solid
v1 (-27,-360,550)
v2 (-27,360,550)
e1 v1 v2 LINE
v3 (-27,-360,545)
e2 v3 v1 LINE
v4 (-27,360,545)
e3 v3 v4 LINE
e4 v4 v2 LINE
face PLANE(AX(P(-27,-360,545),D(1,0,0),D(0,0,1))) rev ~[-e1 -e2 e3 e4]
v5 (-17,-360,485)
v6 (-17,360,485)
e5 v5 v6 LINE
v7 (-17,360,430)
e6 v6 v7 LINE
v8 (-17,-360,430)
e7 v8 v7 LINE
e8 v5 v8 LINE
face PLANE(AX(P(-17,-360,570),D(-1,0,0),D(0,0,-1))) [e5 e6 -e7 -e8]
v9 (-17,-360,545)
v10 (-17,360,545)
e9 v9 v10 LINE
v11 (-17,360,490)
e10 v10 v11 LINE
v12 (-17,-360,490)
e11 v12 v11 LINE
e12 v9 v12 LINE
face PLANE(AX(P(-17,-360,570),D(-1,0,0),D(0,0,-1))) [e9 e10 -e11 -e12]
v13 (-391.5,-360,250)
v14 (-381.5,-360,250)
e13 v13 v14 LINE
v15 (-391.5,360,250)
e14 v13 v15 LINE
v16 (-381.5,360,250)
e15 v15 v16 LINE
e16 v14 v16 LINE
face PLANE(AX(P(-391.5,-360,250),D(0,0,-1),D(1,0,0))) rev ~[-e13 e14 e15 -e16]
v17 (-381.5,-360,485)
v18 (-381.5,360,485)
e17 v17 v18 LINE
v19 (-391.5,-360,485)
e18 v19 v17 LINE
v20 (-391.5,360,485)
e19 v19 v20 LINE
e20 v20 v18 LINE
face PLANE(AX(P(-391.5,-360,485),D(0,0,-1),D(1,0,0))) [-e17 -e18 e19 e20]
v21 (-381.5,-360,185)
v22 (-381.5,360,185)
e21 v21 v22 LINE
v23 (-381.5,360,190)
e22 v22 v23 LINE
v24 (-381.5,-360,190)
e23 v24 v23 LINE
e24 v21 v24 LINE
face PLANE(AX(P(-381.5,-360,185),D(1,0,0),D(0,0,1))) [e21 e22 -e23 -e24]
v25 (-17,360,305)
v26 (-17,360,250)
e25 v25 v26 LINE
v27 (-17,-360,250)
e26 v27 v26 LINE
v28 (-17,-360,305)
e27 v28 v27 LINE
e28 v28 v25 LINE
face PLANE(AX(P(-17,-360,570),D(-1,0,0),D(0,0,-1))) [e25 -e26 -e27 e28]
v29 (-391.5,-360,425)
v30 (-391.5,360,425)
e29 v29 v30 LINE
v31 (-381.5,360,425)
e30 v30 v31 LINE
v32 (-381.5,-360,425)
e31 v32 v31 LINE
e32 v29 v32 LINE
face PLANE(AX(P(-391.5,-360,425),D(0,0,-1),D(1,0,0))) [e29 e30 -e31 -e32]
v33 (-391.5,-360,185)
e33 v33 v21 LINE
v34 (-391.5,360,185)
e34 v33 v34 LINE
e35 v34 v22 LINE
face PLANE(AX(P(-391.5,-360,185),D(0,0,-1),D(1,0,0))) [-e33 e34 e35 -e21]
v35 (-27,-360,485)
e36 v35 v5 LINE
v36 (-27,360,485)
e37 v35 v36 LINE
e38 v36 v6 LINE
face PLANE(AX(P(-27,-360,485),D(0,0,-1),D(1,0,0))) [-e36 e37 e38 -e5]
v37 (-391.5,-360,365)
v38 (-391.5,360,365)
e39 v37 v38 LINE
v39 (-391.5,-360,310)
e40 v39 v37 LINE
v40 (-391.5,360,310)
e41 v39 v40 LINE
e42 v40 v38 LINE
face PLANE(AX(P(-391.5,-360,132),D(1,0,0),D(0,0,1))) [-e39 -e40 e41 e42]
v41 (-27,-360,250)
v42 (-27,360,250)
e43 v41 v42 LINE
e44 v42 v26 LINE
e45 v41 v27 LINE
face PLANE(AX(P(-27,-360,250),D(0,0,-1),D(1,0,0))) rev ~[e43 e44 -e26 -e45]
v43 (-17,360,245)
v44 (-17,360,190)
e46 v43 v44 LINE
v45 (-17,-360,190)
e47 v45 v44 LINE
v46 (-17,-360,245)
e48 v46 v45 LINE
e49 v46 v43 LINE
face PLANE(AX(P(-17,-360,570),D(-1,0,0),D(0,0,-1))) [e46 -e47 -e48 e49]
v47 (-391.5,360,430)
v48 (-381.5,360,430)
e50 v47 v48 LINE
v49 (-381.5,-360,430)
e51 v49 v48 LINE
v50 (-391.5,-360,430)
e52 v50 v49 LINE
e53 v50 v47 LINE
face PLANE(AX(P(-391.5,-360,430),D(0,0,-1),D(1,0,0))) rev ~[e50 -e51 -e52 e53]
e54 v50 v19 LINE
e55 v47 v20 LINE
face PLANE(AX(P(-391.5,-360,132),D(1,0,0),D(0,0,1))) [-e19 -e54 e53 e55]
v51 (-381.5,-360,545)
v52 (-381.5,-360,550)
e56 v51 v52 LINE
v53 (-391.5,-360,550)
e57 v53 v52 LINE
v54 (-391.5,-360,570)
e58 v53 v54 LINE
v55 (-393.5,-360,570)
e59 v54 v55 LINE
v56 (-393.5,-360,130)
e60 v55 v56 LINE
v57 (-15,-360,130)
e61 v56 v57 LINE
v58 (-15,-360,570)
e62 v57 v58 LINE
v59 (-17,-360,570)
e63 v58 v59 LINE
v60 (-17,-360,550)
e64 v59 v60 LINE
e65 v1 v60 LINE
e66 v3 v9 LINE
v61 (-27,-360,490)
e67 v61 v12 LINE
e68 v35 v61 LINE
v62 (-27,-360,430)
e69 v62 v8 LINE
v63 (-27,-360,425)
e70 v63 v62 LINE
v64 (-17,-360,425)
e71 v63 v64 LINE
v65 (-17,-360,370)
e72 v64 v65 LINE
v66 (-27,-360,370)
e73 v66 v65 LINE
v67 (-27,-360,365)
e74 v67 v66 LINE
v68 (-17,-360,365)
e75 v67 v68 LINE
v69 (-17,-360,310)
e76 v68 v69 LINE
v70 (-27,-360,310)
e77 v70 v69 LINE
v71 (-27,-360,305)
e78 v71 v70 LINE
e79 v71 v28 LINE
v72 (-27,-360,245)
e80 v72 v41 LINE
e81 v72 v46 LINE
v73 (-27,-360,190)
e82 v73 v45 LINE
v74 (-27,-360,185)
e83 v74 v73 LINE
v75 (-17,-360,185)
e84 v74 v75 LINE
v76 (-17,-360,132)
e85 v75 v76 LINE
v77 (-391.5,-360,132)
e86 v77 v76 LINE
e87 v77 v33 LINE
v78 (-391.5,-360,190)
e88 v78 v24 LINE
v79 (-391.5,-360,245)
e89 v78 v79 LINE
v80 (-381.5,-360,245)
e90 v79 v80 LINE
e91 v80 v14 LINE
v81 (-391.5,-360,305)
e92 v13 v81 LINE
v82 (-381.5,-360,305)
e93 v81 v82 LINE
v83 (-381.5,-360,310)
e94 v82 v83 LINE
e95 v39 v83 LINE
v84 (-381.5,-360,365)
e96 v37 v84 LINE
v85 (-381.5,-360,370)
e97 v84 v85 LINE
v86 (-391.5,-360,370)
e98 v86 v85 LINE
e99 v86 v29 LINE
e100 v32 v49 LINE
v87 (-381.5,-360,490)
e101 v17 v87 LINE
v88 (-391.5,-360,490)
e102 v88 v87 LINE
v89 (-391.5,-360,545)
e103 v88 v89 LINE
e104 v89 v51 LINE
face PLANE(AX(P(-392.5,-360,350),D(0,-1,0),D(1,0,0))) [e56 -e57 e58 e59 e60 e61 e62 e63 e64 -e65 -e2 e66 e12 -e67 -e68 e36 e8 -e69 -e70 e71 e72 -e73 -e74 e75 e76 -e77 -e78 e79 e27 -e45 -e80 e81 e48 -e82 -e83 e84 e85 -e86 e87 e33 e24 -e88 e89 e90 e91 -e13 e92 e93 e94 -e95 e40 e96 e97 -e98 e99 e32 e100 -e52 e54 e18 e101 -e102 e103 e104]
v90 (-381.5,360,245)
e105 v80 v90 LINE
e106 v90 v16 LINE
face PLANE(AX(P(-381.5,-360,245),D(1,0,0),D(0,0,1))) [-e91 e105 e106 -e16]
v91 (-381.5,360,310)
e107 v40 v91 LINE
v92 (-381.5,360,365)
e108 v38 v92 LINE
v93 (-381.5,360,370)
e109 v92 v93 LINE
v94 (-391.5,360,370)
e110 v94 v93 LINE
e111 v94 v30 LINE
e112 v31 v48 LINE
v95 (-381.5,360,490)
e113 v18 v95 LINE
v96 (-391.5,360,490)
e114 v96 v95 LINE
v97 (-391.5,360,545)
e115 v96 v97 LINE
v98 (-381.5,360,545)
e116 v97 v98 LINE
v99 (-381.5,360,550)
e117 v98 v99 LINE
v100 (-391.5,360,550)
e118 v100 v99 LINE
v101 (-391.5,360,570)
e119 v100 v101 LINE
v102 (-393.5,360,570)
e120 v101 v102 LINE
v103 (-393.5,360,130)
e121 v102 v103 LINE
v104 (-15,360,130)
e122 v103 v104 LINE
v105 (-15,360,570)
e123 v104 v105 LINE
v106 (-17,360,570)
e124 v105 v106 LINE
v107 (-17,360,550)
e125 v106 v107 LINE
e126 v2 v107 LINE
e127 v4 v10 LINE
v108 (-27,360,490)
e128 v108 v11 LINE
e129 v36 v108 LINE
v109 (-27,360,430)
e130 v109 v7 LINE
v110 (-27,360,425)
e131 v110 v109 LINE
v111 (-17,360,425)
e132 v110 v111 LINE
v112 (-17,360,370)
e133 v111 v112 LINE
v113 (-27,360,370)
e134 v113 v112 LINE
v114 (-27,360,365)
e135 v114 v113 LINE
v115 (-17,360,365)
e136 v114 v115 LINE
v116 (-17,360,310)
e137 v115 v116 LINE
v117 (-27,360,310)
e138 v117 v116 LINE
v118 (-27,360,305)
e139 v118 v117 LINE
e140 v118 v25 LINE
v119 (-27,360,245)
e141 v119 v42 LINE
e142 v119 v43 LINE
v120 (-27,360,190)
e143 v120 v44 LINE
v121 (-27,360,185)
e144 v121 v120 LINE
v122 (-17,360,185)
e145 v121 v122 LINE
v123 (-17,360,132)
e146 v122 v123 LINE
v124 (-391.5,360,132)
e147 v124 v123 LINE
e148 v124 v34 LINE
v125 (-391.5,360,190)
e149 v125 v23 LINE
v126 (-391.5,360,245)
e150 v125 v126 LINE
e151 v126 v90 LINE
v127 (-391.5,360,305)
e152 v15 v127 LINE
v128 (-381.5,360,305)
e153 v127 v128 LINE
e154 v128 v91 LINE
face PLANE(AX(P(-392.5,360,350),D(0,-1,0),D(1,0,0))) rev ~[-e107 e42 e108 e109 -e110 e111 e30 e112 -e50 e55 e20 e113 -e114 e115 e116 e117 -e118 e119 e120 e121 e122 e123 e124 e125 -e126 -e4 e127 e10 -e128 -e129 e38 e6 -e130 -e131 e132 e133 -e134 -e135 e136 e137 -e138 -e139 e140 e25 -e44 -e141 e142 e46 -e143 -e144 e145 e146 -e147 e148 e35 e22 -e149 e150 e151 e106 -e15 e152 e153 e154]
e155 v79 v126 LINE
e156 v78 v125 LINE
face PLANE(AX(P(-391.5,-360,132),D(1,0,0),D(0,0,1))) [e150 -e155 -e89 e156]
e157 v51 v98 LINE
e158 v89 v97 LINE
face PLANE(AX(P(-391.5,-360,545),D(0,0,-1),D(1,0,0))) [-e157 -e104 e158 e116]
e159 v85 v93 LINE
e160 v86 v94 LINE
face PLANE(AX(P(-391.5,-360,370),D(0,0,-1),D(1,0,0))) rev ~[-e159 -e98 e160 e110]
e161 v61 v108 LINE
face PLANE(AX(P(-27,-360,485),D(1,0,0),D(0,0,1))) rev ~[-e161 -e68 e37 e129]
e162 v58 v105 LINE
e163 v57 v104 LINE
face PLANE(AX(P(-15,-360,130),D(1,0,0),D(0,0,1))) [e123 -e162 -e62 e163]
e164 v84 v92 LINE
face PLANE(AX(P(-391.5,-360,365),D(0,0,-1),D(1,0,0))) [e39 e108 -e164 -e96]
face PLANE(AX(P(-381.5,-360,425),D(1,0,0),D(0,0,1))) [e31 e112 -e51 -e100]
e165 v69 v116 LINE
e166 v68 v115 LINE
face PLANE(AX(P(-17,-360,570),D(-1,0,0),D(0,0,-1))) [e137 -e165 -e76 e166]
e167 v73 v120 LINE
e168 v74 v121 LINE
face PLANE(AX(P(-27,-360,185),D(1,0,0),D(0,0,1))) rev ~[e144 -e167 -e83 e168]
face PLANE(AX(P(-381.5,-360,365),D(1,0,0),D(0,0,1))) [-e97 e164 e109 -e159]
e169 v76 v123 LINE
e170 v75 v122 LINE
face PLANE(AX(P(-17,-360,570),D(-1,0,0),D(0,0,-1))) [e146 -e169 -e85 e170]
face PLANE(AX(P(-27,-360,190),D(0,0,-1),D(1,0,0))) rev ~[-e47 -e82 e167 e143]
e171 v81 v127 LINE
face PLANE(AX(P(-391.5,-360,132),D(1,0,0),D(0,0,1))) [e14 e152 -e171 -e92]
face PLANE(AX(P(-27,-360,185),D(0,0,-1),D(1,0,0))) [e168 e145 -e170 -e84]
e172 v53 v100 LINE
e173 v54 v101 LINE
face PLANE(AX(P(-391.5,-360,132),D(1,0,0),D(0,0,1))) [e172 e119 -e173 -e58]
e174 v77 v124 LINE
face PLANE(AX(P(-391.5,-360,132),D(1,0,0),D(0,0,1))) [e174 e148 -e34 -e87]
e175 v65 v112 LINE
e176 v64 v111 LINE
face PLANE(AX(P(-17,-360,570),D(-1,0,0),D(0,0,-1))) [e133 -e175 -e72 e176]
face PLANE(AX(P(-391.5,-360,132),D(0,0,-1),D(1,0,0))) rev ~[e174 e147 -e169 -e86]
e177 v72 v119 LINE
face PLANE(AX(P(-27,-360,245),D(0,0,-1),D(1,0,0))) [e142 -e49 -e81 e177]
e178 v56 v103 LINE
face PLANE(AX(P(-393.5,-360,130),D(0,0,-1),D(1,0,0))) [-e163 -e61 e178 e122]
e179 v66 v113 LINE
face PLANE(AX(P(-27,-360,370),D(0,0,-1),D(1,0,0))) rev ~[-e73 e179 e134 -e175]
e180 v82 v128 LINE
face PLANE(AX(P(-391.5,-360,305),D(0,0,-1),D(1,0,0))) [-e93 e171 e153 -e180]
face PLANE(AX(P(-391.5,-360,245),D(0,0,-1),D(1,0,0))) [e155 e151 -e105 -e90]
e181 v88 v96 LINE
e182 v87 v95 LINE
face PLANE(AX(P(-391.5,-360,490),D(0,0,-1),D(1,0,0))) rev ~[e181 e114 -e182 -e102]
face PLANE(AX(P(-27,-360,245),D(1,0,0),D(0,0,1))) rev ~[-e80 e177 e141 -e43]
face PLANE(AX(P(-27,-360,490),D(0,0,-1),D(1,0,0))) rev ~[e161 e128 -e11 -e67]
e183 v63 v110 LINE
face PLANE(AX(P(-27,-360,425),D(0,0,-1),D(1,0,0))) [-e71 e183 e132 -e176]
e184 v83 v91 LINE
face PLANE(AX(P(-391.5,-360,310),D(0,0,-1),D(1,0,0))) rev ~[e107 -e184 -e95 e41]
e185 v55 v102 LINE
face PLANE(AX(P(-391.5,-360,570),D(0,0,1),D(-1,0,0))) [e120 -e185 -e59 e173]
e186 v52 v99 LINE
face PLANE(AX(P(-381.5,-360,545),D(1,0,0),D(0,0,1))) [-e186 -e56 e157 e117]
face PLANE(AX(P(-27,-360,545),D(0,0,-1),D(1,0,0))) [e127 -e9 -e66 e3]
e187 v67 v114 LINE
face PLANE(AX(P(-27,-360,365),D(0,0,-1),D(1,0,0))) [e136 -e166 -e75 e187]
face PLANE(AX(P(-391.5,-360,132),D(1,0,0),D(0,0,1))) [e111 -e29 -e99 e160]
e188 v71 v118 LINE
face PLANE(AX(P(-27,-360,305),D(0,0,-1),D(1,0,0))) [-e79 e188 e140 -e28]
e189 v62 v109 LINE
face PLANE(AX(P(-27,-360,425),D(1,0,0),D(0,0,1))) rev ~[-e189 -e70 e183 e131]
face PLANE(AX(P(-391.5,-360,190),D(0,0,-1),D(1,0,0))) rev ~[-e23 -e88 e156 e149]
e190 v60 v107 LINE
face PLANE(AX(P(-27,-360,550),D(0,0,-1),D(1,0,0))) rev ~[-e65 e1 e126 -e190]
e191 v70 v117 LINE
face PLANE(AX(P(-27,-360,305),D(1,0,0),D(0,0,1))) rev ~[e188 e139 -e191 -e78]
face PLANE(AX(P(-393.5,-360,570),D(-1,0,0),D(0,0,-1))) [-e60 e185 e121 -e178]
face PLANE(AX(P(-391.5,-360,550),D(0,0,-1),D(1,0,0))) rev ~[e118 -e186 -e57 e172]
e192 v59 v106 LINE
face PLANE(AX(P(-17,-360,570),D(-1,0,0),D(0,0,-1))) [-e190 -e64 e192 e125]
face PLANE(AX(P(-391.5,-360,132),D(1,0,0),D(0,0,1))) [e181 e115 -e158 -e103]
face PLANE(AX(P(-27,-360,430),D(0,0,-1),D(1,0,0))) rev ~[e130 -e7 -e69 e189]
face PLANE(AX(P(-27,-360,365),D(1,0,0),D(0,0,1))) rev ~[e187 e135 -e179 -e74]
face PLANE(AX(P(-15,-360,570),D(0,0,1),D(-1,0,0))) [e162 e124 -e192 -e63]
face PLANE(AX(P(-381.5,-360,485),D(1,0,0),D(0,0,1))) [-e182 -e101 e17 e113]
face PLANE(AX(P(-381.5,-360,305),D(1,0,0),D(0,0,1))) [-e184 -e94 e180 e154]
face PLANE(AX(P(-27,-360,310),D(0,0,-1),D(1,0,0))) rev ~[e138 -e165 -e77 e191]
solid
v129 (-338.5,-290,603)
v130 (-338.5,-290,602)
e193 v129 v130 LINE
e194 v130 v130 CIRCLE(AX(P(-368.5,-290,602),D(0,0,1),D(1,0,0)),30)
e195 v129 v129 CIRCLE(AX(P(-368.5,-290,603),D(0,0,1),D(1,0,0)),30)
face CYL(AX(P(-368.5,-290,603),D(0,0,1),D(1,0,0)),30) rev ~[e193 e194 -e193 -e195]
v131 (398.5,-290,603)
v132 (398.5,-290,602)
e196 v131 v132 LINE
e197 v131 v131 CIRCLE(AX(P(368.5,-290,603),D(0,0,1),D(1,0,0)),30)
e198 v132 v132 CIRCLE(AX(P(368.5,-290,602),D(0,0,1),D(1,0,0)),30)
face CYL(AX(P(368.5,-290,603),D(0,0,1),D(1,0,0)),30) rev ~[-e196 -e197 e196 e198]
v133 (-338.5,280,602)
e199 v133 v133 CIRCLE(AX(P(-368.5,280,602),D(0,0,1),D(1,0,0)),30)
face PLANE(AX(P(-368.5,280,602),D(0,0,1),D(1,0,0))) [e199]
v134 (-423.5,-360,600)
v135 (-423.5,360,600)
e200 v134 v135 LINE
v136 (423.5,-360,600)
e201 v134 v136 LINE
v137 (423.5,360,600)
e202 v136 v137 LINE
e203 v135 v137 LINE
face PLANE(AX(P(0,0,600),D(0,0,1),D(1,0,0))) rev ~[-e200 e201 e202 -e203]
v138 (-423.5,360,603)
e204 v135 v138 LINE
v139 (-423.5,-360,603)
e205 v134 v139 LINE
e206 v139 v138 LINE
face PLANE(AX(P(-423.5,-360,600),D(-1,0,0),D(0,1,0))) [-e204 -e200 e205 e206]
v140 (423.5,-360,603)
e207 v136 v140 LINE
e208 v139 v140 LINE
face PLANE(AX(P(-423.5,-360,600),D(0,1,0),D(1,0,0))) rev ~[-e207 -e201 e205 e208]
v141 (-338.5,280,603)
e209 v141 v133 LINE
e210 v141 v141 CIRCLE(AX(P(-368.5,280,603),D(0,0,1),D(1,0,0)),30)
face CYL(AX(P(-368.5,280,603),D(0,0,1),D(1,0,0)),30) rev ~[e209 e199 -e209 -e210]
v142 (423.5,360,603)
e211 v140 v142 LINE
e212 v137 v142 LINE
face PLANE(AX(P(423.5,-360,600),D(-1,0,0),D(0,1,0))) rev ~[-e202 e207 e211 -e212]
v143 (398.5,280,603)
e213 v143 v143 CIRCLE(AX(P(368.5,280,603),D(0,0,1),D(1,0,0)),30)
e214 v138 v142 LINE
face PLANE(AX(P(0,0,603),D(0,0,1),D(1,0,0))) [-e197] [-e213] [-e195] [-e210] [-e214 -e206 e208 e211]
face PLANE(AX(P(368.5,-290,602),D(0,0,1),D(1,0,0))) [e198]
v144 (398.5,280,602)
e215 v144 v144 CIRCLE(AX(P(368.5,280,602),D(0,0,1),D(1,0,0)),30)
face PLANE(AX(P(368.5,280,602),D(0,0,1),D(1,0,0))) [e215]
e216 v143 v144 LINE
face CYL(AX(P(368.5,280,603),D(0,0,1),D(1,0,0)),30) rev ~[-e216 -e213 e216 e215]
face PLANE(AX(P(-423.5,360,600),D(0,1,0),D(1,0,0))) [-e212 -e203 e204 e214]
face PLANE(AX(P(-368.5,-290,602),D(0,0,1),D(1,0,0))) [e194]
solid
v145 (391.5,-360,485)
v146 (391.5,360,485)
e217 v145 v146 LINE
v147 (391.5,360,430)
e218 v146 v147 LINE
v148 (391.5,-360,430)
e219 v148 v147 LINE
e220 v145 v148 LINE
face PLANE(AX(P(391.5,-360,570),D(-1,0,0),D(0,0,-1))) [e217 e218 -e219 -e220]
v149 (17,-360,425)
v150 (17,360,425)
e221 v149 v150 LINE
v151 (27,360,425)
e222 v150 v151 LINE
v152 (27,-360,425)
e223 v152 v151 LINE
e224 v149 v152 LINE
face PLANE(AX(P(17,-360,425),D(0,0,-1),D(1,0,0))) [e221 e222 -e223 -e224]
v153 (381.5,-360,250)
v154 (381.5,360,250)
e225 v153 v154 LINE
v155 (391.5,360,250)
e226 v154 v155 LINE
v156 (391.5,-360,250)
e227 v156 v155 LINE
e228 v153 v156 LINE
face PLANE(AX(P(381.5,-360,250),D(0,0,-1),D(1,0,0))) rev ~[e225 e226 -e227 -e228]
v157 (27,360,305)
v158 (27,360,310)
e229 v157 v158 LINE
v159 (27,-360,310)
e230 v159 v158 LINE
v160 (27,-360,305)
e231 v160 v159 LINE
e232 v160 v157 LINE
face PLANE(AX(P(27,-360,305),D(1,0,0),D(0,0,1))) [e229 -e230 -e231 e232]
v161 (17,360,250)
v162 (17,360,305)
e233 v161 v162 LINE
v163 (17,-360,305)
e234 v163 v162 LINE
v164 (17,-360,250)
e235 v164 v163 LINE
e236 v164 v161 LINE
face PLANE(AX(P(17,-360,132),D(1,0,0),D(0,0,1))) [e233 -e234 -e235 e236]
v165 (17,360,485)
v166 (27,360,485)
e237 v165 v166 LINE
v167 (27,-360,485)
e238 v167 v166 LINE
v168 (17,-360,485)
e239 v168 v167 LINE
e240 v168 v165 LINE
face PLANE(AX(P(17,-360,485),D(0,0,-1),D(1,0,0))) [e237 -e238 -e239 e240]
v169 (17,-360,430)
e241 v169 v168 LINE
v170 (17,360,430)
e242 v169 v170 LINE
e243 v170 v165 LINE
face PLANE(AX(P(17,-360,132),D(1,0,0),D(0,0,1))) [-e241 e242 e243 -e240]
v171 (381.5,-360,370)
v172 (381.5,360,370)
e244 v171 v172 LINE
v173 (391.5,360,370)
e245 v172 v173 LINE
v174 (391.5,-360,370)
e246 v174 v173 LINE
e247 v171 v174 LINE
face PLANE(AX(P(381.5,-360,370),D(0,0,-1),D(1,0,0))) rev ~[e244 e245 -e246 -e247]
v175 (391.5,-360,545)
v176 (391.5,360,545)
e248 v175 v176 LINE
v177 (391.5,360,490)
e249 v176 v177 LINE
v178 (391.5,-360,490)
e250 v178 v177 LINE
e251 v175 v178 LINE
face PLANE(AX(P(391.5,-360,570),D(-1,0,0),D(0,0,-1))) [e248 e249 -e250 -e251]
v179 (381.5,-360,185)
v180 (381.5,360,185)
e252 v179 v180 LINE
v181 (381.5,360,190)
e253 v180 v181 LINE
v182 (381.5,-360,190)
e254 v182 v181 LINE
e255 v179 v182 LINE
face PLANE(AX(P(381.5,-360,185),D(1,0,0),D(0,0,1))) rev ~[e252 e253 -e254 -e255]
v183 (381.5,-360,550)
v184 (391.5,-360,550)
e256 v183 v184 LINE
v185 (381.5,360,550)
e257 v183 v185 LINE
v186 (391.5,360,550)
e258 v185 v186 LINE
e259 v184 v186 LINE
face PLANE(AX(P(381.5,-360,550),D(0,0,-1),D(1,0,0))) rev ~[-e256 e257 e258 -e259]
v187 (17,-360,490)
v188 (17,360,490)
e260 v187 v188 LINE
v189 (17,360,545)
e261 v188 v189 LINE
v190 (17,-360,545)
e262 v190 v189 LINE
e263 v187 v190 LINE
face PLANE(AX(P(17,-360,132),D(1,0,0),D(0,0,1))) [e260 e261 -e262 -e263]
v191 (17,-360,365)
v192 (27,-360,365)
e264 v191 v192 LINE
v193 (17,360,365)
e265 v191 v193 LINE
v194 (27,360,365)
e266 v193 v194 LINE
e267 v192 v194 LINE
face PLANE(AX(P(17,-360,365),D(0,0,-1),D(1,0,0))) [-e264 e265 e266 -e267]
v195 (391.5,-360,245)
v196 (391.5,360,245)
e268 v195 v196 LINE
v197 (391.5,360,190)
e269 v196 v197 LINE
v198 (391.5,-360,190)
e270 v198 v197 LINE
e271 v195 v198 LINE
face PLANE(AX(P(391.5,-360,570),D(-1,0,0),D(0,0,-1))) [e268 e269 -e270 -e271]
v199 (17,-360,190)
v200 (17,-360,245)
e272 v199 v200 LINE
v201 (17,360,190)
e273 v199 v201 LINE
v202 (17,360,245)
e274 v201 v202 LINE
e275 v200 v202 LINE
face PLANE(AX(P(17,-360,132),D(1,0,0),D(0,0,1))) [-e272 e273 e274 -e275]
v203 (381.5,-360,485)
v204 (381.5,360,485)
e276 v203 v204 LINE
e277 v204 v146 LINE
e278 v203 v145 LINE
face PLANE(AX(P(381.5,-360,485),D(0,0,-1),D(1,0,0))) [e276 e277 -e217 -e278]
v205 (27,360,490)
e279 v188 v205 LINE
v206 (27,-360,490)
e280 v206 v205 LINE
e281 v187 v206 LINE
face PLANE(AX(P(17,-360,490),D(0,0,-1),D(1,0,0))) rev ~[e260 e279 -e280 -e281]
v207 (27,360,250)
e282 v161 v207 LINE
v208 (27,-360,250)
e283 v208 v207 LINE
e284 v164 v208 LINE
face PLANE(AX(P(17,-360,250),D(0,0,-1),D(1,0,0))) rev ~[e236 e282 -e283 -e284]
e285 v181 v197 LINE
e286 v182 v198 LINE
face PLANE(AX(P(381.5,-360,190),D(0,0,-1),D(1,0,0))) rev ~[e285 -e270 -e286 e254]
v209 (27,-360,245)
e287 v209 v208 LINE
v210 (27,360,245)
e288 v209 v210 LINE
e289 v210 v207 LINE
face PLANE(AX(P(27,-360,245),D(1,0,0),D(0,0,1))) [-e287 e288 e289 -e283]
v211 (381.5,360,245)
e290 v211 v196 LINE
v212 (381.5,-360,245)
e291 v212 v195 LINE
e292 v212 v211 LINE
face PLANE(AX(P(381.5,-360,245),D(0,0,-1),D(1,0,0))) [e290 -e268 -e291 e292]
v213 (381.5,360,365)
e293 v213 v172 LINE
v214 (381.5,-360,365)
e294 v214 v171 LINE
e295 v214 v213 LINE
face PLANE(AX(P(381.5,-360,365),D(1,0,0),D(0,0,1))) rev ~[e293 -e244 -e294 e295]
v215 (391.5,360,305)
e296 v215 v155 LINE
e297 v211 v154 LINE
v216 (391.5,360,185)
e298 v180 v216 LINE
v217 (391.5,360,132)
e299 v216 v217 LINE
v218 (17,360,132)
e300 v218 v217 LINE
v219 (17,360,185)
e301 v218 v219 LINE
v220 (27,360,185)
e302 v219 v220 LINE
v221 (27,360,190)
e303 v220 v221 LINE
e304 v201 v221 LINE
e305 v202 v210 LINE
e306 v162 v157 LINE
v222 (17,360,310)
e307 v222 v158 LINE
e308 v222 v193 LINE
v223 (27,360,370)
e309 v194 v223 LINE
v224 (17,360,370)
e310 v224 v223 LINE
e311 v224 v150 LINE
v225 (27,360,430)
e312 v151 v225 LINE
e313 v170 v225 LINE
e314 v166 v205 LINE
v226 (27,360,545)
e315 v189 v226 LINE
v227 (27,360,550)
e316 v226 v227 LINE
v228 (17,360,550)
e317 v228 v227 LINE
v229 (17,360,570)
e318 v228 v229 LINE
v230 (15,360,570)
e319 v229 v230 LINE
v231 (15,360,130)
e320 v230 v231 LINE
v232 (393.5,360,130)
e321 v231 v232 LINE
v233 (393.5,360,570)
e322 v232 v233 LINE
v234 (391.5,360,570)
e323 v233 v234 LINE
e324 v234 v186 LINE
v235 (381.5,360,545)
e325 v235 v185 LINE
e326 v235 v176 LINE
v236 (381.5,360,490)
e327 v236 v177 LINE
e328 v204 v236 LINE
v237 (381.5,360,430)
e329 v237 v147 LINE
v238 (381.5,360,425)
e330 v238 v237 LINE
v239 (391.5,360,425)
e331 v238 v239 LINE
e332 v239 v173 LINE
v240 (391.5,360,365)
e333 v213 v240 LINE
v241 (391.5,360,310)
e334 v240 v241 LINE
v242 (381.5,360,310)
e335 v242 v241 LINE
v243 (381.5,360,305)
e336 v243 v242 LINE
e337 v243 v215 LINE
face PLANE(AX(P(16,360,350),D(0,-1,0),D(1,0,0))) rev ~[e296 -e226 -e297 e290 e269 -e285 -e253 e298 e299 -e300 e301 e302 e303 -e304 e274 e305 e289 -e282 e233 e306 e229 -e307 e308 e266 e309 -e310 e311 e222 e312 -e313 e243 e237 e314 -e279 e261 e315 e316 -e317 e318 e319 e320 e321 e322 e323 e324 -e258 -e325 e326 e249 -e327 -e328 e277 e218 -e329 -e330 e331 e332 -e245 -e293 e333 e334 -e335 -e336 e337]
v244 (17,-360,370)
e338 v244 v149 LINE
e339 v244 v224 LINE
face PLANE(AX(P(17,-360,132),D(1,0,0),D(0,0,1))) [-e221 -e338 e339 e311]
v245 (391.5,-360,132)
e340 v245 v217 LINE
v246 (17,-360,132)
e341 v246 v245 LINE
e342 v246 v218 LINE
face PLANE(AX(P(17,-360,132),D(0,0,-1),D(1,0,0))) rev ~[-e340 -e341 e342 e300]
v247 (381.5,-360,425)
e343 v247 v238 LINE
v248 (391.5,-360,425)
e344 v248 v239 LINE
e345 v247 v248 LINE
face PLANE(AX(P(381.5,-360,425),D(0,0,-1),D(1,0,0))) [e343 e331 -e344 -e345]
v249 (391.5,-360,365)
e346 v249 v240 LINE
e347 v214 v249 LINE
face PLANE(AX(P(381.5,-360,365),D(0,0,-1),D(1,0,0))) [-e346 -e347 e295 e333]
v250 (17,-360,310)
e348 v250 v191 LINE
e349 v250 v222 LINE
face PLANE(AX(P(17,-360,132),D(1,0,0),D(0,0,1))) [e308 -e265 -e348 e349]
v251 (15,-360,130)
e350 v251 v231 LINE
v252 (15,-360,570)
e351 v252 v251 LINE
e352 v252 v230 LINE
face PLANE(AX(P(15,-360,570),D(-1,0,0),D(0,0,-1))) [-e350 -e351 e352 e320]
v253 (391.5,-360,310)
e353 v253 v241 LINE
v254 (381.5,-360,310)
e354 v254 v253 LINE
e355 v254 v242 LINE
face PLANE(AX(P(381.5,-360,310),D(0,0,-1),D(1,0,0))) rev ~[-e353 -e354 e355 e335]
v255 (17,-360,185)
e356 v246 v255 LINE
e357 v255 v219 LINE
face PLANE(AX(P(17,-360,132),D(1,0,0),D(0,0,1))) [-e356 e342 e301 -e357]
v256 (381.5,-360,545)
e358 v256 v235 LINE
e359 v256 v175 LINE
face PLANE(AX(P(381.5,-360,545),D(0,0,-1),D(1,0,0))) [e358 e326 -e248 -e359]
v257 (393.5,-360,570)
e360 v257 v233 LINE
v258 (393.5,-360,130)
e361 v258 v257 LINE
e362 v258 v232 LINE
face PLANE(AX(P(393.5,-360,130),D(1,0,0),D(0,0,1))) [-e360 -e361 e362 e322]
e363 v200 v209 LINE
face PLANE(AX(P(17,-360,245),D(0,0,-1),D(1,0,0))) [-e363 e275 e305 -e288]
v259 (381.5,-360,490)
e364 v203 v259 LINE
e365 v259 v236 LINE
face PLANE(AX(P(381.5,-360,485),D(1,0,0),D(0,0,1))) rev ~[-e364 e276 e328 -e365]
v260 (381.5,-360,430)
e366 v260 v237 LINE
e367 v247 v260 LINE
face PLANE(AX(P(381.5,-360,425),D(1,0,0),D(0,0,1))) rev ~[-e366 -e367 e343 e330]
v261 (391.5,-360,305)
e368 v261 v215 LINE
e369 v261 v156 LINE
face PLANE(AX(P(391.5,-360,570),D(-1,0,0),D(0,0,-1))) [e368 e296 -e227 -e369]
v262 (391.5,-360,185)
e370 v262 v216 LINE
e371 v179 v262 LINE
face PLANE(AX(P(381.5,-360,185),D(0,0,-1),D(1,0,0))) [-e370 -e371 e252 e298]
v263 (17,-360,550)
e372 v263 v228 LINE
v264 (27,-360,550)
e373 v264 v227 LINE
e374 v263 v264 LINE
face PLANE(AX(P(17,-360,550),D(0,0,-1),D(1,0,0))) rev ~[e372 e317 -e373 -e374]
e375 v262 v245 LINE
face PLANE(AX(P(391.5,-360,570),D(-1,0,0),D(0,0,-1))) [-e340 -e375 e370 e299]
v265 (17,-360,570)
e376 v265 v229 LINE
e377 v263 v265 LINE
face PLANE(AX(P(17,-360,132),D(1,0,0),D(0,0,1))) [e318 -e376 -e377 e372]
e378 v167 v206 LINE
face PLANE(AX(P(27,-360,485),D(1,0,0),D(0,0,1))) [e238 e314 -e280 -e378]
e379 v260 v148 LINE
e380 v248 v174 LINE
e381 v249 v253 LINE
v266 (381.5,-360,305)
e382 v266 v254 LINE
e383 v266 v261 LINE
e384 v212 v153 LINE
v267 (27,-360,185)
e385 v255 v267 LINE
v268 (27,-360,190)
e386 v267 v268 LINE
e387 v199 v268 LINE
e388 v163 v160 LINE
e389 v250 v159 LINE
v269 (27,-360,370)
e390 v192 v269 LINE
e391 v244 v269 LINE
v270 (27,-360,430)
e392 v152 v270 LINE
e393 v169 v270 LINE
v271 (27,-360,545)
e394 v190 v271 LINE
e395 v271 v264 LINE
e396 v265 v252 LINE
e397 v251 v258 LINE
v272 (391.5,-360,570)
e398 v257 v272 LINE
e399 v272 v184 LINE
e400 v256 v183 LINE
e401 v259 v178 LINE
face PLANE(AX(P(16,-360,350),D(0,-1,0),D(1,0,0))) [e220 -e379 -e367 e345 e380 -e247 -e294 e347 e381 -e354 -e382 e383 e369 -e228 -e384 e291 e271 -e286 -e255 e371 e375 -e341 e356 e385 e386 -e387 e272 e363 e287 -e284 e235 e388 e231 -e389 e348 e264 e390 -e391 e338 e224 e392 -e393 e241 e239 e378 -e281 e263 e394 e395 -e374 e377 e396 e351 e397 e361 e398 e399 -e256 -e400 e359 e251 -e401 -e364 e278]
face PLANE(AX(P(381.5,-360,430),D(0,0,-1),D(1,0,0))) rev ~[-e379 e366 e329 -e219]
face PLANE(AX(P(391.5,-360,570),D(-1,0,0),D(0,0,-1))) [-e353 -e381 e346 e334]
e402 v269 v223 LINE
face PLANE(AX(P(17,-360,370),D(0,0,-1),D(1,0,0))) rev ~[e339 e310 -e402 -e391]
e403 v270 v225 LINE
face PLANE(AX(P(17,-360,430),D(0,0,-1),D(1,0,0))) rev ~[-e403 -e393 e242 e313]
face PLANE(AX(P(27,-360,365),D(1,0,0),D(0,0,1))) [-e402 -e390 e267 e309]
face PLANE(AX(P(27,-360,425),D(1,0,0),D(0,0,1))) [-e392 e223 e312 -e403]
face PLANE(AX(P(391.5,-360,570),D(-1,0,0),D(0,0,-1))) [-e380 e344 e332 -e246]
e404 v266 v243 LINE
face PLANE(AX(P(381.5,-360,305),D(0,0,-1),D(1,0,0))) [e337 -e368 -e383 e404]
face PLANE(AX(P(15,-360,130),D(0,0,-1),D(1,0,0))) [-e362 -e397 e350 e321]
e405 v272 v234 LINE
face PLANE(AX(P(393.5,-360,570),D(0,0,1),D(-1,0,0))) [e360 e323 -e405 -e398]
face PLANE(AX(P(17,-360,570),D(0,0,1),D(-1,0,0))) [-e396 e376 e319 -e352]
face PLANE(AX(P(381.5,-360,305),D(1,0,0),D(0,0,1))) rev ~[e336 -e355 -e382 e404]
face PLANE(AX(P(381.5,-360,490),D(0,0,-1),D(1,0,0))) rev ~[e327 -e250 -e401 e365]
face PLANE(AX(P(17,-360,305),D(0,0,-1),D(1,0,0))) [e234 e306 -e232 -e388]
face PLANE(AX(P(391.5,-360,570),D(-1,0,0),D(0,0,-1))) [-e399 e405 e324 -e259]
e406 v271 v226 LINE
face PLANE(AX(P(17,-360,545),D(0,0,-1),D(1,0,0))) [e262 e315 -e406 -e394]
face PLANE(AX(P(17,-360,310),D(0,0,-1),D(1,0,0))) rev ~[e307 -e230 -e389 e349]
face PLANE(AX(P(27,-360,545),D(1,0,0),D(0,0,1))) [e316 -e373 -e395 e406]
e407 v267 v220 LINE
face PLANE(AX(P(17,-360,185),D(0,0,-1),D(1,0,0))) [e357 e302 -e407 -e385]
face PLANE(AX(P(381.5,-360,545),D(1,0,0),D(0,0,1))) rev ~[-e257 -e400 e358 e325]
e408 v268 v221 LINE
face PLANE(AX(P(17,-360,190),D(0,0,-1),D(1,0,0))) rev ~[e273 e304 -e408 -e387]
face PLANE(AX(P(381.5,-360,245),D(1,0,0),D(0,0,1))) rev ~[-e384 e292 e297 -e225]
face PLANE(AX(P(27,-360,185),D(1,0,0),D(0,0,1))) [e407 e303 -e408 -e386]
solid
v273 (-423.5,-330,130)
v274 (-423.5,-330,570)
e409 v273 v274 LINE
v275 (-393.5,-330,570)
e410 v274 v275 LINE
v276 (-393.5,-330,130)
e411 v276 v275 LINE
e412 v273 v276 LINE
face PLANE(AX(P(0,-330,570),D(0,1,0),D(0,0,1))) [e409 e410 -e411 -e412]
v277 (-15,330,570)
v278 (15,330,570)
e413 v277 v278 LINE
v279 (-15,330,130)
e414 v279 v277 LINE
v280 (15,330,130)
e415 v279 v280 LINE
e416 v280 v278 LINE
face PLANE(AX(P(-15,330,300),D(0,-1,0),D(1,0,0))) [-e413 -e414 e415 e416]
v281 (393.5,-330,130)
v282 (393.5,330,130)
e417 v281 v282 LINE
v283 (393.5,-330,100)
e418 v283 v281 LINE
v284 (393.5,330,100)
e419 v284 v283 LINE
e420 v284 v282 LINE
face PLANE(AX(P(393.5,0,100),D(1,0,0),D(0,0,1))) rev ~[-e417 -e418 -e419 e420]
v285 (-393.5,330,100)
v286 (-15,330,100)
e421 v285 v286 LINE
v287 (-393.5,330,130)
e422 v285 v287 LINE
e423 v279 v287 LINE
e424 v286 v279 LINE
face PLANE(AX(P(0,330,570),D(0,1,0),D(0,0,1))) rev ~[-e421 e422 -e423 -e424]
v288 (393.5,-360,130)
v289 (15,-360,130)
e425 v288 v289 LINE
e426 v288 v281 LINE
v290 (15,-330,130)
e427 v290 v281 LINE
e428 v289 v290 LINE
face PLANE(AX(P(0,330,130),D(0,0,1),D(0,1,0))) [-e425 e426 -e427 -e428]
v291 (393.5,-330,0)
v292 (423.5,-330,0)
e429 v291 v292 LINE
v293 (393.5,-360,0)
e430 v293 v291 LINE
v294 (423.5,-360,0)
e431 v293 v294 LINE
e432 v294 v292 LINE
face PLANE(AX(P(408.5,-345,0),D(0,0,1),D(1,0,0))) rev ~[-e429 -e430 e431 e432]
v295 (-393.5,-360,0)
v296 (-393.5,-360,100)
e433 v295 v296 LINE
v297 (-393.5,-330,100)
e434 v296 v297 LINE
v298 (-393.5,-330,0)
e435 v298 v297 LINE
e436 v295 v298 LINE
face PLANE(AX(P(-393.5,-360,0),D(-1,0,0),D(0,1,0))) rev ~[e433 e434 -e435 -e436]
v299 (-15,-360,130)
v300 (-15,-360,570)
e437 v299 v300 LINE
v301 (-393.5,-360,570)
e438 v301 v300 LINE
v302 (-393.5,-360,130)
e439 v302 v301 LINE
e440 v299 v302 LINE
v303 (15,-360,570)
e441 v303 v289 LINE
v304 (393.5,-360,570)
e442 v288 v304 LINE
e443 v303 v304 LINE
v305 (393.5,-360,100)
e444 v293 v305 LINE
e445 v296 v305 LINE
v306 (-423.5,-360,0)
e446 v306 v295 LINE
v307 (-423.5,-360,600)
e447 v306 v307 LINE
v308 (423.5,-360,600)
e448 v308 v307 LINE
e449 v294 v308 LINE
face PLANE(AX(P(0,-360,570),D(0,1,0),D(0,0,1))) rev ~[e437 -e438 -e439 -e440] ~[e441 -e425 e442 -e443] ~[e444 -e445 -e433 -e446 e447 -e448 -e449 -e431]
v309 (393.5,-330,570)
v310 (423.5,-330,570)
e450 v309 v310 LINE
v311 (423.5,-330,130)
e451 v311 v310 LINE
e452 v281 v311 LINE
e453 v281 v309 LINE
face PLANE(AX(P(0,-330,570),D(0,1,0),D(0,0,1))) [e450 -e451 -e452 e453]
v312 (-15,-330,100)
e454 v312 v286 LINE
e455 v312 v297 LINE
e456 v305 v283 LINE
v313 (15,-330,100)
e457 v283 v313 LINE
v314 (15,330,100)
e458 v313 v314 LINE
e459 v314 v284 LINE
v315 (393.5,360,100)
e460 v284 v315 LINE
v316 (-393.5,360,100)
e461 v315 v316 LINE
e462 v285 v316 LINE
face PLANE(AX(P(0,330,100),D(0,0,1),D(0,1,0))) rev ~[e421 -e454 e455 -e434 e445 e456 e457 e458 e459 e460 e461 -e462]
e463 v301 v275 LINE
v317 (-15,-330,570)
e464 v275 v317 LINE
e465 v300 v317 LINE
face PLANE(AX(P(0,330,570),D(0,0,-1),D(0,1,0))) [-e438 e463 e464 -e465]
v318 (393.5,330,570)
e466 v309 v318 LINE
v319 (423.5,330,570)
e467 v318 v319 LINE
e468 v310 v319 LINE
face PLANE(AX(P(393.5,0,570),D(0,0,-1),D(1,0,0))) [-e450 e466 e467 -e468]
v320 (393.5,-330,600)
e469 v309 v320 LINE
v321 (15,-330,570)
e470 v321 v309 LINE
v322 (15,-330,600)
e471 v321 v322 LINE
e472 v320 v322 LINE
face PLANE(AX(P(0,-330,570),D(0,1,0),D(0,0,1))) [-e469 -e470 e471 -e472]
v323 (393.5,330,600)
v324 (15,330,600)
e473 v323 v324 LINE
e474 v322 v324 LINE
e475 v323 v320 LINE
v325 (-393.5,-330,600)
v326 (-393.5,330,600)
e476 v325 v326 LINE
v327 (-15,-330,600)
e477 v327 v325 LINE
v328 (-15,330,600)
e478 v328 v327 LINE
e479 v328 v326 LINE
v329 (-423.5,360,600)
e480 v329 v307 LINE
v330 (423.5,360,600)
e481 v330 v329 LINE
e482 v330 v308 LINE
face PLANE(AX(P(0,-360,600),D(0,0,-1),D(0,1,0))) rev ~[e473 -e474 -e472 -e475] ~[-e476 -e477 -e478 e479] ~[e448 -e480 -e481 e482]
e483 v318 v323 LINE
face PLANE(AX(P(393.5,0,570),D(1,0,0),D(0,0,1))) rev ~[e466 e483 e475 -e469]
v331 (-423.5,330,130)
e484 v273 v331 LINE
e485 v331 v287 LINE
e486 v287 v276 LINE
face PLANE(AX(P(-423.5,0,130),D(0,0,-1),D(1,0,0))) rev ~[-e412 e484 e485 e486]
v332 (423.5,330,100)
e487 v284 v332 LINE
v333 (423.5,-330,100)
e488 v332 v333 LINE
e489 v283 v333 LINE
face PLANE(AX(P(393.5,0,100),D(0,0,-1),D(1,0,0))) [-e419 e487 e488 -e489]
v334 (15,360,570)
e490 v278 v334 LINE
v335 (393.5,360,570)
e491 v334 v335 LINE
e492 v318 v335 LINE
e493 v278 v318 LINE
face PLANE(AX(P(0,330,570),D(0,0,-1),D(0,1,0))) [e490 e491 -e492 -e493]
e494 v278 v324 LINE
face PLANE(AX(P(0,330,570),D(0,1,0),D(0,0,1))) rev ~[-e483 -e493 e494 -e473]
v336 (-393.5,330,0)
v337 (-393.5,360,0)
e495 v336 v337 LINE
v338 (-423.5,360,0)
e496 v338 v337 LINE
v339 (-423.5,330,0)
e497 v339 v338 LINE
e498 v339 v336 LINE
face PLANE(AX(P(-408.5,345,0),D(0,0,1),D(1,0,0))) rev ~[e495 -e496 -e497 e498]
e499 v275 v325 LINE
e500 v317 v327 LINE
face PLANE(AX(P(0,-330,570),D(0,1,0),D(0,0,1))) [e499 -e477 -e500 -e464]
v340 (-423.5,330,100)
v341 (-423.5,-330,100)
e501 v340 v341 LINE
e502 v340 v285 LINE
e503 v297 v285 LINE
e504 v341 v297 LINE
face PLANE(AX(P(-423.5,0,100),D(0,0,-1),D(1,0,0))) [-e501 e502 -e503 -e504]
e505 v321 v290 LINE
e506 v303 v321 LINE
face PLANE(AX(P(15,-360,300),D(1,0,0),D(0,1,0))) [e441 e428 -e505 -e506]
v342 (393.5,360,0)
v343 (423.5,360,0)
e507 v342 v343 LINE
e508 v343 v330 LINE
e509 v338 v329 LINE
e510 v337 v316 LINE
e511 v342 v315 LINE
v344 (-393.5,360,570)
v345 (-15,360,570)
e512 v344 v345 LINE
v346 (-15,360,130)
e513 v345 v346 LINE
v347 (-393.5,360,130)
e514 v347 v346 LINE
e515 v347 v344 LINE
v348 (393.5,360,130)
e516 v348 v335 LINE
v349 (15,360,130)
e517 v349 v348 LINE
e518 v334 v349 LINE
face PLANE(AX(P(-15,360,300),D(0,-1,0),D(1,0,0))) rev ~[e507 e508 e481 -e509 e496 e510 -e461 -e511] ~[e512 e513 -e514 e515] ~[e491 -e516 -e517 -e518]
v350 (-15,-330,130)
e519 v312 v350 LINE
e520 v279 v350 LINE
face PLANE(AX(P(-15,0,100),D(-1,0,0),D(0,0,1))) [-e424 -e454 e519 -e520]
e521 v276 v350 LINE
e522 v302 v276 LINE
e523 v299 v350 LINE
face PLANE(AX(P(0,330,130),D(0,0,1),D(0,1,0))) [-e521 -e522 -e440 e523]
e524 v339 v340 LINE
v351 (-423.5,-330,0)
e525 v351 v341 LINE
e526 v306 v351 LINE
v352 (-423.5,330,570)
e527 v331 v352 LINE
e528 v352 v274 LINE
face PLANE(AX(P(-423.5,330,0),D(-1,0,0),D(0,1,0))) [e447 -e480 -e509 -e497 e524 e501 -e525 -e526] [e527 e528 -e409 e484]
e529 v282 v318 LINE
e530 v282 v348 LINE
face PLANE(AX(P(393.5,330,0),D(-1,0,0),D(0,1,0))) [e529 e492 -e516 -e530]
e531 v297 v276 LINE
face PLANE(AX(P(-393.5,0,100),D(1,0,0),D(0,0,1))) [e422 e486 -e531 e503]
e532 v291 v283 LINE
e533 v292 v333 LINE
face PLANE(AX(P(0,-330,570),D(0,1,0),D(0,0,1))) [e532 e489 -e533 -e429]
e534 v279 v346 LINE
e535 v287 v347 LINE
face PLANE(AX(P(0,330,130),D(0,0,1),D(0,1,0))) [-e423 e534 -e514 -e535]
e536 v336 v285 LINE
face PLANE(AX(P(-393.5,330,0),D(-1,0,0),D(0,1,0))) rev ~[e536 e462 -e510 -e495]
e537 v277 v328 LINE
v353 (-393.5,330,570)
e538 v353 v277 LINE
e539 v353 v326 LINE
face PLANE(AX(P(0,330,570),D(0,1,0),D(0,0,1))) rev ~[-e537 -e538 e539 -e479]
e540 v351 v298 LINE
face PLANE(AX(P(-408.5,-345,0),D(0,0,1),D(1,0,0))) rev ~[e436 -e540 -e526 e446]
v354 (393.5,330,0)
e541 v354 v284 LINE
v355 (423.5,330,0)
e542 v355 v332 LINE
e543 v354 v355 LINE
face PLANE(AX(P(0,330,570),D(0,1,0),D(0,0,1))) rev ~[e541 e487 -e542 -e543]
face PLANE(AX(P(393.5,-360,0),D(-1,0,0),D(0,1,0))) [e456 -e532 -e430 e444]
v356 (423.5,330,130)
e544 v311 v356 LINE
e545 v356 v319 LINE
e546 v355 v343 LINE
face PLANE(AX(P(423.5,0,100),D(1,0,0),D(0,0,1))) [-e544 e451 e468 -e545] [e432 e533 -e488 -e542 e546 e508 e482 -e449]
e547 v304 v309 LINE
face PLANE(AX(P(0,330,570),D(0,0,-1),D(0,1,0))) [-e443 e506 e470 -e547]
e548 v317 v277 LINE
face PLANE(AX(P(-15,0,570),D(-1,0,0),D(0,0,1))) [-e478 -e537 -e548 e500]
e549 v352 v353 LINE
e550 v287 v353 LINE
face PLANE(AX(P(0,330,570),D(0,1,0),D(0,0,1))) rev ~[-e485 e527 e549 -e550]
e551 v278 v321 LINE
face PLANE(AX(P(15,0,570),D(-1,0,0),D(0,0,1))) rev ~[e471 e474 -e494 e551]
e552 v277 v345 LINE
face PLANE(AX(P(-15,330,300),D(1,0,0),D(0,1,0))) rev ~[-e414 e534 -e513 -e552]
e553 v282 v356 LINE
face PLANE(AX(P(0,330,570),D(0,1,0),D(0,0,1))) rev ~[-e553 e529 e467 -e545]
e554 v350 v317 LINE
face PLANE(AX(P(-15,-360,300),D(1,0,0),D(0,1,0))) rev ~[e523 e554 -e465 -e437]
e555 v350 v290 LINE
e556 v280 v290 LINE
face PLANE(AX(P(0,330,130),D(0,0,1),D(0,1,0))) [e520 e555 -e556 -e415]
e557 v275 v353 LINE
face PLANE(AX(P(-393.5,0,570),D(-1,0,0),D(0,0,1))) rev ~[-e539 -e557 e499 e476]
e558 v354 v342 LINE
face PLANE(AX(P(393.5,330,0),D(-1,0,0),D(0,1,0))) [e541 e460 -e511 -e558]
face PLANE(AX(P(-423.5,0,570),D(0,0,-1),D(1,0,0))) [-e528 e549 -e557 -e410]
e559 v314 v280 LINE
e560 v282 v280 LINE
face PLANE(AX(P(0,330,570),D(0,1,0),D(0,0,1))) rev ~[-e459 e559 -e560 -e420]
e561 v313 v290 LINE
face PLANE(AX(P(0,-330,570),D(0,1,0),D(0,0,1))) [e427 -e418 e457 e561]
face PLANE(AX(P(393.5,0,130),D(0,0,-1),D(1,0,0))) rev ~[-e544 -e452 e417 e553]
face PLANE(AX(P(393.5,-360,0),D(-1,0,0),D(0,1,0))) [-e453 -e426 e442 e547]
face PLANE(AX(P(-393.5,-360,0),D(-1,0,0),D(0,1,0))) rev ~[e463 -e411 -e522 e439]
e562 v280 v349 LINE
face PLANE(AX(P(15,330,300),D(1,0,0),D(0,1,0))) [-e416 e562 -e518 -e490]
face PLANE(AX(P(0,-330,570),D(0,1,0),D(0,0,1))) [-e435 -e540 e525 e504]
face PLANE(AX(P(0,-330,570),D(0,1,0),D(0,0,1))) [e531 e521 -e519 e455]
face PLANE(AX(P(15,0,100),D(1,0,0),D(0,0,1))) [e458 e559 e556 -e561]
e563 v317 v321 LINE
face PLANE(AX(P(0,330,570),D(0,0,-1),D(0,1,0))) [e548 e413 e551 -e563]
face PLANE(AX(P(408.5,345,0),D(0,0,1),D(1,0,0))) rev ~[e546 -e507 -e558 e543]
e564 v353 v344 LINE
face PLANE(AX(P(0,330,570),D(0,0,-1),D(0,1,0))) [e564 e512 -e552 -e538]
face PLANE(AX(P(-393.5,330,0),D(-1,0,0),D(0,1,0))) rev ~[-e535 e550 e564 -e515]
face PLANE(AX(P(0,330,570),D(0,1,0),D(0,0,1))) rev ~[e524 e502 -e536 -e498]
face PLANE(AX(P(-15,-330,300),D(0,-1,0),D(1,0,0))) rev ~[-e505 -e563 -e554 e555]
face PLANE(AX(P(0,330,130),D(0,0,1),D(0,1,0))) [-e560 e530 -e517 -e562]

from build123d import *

# Parameters (mm, degrees)
F0_W           = 30
F0_H           = 30
F1_DEPTH       = 600
F2_W           = 30
F2_H           = 30
F3_DEPTH       = 393.5
F3_DEPTH_BACK  = 393.5
F4_W           = 30
F4_H           = 30
F5_DEPTH       = 330
F5_DEPTH_BACK  = 330
F6_W           = 847
F6_H           = 720
F7_DEPTH       = 3
F9_W           = 30
F9_H           = 30
F10_DEPTH      = 270
F10_DEPTH_BACK = 170
F11_W          = 374.5
F11_H          = 2
F12_DEPTH      = 720
F13_W          = 10
F13_H          = 5
F14_DEPTH      = 720
F15_R          = 30
F16_DEPTH      = 1


with BuildPart() as f1:
    # F0 (on Top) → F1 (new body)
    with BuildSketch(Plane.XY):
        with Locations((408.5, 345)):
            Rectangle(F0_W, F0_H)
        with Locations((408.5, -345)):
            Rectangle(F0_W, F0_H)
        with Locations((-408.5, 345)):
            Rectangle(F0_W, F0_H)
        with Locations((-408.5, -345)):
            Rectangle(F0_W, F0_H)
    extrude(amount=F1_DEPTH)

    # F2 (on Right) → F3 (join, two sides)
    with BuildSketch(Plane.YZ) as f3_sk:
        with Locations((345, 585)):
            Rectangle(F2_W, F2_H)
        with Locations((-345, 585)):
            Rectangle(F2_W, F2_H)
        with Locations((345, 115)):
            Rectangle(F2_W, F2_H)
        with Locations((-345, 115)):
            Rectangle(F2_W, F2_H)
    extrude(amount=F3_DEPTH)
    extrude(f3_sk.sketch, amount=-F3_DEPTH_BACK)

    # F4 (on Front) → F5 (join, two sides)
    with BuildSketch(Plane.XZ) as f5_sk:
        with Locations((408.5, 115)):
            Rectangle(F4_W, F4_H)
        with Locations((-408.5, 115)):
            Rectangle(F4_W, F4_H)
        with Locations((-408.5, 585)):
            Rectangle(F4_W, F4_H)
        with Locations((408.5, 585)):
            Rectangle(F4_W, F4_H)
        with Locations((0, 115)):
            Rectangle(F4_W, F4_H)
        with Locations((0, 585)):
            Rectangle(F4_W, F4_H)
    extrude(amount=F5_DEPTH)
    extrude(f5_sk.sketch, amount=-F5_DEPTH_BACK)

    # F9 (on offset) → F10 (join, two sides)
    with BuildSketch(Plane.XY.offset(300)) as f10_sk:
        with Locations((0, 345)):
            Rectangle(F9_W, F9_H)
        with Locations((0, -345)):
            Rectangle(F9_W, F9_H)
    extrude(amount=F10_DEPTH)
    extrude(f10_sk.sketch, amount=-F10_DEPTH_BACK)


with BuildPart() as f7:
    # F6 (on face) → F7 (new body)
    with BuildSketch(Plane.XY.offset(600)):
        Rectangle(F6_W, F6_H)
    extrude(amount=F7_DEPTH)

    # F15 (on face) → F16 (cut)
    with BuildSketch(Plane.XY.offset(603)):
        with Locations((-368.5, 280)):
            Circle(F15_R)
        with Locations((368.5, 280)):
            Circle(F15_R)
        with Locations((368.5, -290)):
            Circle(F15_R)
        with Locations((-368.5, -290)):
            Circle(F15_R)
    extrude(amount=-F16_DEPTH, mode=Mode.SUBTRACT)


with BuildPart() as f12:
    # F11 (on face) → F12 (new body)
    with BuildSketch(Plane.XZ.offset(360)):
        Polygon((-391.5, 570), (-393.5, 570), (-393.5, 130), (-391.5, 130), (-391.5, 132), align=None)
        with Locations((-204.25, 131)):
            Rectangle(F11_W, F11_H)
        Polygon((-17, 570), (-17, 132), (-17, 130), (-15, 130), (-15, 570), align=None)
        Polygon((17, 570), (15, 570), (15, 130), (17, 130), (17, 132), align=None)
        with Locations((204.25, 131)):
            Rectangle(F11_W, F11_H)
        Polygon((391.5, 570), (391.5, 132), (391.5, 130), (393.5, 130), (393.5, 570), align=None)
    extrude(amount=-F12_DEPTH)

    # F13 (on face) → F14 (join)
    with BuildSketch(Plane.XZ.offset(360)):
        with Locations((-386.5, 547.5)):
            Rectangle(F13_W, F13_H)
        with Locations((-386.5, 487.5)):
            Rectangle(F13_W, F13_H)
        with Locations((-386.5, 427.5)):
            Rectangle(F13_W, F13_H)
        with Locations((-386.5, 367.5)):
            Rectangle(F13_W, F13_H)
        with Locations((-386.5, 307.5)):
            Rectangle(F13_W, F13_H)
        with Locations((-386.5, 247.5)):
            Rectangle(F13_W, F13_H)
        with Locations((-386.5, 187.5)):
            Rectangle(F13_W, F13_H)
        with Locations((-22, 547.5)):
            Rectangle(F13_W, F13_H)
        with Locations((-22, 487.5)):
            Rectangle(F13_W, F13_H)
        with Locations((-22, 427.5)):
            Rectangle(F13_W, F13_H)
        with Locations((-22, 367.5)):
            Rectangle(F13_W, F13_H)
        with Locations((-22, 307.5)):
            Rectangle(F13_W, F13_H)
        with Locations((-22, 247.5)):
            Rectangle(F13_W, F13_H)
        with Locations((-22, 187.5)):
            Rectangle(F13_W, F13_H)
        with Locations((386.5, 187.5)):
            Rectangle(F13_W, F13_H)
        with Locations((22, 547.5)):
            Rectangle(F13_W, F13_H)
        with Locations((386.5, 547.5)):
            Rectangle(F13_W, F13_H)
        with Locations((22, 187.5)):
            Rectangle(F13_W, F13_H)
        with Locations((386.5, 487.5)):
            Rectangle(F13_W, F13_H)
        with Locations((22, 487.5)):
            Rectangle(F13_W, F13_H)
        with Locations((22, 247.5)):
            Rectangle(F13_W, F13_H)
        with Locations((22, 367.5)):
            Rectangle(F13_W, F13_H)
        with Locations((22, 307.5)):
            Rectangle(F13_W, F13_H)
        with Locations((386.5, 307.5)):
            Rectangle(F13_W, F13_H)
        with Locations((386.5, 247.5)):
            Rectangle(F13_W, F13_H)
        with Locations((22, 427.5)):
            Rectangle(F13_W, F13_H)
        with Locations((386.5, 367.5)):
            Rectangle(F13_W, F13_H)
        with Locations((386.5, 427.5)):
            Rectangle(F13_W, F13_H)
    extrude(amount=-F14_DEPTH)


solid = Compound([f1.part, f7.part, f12.part])
